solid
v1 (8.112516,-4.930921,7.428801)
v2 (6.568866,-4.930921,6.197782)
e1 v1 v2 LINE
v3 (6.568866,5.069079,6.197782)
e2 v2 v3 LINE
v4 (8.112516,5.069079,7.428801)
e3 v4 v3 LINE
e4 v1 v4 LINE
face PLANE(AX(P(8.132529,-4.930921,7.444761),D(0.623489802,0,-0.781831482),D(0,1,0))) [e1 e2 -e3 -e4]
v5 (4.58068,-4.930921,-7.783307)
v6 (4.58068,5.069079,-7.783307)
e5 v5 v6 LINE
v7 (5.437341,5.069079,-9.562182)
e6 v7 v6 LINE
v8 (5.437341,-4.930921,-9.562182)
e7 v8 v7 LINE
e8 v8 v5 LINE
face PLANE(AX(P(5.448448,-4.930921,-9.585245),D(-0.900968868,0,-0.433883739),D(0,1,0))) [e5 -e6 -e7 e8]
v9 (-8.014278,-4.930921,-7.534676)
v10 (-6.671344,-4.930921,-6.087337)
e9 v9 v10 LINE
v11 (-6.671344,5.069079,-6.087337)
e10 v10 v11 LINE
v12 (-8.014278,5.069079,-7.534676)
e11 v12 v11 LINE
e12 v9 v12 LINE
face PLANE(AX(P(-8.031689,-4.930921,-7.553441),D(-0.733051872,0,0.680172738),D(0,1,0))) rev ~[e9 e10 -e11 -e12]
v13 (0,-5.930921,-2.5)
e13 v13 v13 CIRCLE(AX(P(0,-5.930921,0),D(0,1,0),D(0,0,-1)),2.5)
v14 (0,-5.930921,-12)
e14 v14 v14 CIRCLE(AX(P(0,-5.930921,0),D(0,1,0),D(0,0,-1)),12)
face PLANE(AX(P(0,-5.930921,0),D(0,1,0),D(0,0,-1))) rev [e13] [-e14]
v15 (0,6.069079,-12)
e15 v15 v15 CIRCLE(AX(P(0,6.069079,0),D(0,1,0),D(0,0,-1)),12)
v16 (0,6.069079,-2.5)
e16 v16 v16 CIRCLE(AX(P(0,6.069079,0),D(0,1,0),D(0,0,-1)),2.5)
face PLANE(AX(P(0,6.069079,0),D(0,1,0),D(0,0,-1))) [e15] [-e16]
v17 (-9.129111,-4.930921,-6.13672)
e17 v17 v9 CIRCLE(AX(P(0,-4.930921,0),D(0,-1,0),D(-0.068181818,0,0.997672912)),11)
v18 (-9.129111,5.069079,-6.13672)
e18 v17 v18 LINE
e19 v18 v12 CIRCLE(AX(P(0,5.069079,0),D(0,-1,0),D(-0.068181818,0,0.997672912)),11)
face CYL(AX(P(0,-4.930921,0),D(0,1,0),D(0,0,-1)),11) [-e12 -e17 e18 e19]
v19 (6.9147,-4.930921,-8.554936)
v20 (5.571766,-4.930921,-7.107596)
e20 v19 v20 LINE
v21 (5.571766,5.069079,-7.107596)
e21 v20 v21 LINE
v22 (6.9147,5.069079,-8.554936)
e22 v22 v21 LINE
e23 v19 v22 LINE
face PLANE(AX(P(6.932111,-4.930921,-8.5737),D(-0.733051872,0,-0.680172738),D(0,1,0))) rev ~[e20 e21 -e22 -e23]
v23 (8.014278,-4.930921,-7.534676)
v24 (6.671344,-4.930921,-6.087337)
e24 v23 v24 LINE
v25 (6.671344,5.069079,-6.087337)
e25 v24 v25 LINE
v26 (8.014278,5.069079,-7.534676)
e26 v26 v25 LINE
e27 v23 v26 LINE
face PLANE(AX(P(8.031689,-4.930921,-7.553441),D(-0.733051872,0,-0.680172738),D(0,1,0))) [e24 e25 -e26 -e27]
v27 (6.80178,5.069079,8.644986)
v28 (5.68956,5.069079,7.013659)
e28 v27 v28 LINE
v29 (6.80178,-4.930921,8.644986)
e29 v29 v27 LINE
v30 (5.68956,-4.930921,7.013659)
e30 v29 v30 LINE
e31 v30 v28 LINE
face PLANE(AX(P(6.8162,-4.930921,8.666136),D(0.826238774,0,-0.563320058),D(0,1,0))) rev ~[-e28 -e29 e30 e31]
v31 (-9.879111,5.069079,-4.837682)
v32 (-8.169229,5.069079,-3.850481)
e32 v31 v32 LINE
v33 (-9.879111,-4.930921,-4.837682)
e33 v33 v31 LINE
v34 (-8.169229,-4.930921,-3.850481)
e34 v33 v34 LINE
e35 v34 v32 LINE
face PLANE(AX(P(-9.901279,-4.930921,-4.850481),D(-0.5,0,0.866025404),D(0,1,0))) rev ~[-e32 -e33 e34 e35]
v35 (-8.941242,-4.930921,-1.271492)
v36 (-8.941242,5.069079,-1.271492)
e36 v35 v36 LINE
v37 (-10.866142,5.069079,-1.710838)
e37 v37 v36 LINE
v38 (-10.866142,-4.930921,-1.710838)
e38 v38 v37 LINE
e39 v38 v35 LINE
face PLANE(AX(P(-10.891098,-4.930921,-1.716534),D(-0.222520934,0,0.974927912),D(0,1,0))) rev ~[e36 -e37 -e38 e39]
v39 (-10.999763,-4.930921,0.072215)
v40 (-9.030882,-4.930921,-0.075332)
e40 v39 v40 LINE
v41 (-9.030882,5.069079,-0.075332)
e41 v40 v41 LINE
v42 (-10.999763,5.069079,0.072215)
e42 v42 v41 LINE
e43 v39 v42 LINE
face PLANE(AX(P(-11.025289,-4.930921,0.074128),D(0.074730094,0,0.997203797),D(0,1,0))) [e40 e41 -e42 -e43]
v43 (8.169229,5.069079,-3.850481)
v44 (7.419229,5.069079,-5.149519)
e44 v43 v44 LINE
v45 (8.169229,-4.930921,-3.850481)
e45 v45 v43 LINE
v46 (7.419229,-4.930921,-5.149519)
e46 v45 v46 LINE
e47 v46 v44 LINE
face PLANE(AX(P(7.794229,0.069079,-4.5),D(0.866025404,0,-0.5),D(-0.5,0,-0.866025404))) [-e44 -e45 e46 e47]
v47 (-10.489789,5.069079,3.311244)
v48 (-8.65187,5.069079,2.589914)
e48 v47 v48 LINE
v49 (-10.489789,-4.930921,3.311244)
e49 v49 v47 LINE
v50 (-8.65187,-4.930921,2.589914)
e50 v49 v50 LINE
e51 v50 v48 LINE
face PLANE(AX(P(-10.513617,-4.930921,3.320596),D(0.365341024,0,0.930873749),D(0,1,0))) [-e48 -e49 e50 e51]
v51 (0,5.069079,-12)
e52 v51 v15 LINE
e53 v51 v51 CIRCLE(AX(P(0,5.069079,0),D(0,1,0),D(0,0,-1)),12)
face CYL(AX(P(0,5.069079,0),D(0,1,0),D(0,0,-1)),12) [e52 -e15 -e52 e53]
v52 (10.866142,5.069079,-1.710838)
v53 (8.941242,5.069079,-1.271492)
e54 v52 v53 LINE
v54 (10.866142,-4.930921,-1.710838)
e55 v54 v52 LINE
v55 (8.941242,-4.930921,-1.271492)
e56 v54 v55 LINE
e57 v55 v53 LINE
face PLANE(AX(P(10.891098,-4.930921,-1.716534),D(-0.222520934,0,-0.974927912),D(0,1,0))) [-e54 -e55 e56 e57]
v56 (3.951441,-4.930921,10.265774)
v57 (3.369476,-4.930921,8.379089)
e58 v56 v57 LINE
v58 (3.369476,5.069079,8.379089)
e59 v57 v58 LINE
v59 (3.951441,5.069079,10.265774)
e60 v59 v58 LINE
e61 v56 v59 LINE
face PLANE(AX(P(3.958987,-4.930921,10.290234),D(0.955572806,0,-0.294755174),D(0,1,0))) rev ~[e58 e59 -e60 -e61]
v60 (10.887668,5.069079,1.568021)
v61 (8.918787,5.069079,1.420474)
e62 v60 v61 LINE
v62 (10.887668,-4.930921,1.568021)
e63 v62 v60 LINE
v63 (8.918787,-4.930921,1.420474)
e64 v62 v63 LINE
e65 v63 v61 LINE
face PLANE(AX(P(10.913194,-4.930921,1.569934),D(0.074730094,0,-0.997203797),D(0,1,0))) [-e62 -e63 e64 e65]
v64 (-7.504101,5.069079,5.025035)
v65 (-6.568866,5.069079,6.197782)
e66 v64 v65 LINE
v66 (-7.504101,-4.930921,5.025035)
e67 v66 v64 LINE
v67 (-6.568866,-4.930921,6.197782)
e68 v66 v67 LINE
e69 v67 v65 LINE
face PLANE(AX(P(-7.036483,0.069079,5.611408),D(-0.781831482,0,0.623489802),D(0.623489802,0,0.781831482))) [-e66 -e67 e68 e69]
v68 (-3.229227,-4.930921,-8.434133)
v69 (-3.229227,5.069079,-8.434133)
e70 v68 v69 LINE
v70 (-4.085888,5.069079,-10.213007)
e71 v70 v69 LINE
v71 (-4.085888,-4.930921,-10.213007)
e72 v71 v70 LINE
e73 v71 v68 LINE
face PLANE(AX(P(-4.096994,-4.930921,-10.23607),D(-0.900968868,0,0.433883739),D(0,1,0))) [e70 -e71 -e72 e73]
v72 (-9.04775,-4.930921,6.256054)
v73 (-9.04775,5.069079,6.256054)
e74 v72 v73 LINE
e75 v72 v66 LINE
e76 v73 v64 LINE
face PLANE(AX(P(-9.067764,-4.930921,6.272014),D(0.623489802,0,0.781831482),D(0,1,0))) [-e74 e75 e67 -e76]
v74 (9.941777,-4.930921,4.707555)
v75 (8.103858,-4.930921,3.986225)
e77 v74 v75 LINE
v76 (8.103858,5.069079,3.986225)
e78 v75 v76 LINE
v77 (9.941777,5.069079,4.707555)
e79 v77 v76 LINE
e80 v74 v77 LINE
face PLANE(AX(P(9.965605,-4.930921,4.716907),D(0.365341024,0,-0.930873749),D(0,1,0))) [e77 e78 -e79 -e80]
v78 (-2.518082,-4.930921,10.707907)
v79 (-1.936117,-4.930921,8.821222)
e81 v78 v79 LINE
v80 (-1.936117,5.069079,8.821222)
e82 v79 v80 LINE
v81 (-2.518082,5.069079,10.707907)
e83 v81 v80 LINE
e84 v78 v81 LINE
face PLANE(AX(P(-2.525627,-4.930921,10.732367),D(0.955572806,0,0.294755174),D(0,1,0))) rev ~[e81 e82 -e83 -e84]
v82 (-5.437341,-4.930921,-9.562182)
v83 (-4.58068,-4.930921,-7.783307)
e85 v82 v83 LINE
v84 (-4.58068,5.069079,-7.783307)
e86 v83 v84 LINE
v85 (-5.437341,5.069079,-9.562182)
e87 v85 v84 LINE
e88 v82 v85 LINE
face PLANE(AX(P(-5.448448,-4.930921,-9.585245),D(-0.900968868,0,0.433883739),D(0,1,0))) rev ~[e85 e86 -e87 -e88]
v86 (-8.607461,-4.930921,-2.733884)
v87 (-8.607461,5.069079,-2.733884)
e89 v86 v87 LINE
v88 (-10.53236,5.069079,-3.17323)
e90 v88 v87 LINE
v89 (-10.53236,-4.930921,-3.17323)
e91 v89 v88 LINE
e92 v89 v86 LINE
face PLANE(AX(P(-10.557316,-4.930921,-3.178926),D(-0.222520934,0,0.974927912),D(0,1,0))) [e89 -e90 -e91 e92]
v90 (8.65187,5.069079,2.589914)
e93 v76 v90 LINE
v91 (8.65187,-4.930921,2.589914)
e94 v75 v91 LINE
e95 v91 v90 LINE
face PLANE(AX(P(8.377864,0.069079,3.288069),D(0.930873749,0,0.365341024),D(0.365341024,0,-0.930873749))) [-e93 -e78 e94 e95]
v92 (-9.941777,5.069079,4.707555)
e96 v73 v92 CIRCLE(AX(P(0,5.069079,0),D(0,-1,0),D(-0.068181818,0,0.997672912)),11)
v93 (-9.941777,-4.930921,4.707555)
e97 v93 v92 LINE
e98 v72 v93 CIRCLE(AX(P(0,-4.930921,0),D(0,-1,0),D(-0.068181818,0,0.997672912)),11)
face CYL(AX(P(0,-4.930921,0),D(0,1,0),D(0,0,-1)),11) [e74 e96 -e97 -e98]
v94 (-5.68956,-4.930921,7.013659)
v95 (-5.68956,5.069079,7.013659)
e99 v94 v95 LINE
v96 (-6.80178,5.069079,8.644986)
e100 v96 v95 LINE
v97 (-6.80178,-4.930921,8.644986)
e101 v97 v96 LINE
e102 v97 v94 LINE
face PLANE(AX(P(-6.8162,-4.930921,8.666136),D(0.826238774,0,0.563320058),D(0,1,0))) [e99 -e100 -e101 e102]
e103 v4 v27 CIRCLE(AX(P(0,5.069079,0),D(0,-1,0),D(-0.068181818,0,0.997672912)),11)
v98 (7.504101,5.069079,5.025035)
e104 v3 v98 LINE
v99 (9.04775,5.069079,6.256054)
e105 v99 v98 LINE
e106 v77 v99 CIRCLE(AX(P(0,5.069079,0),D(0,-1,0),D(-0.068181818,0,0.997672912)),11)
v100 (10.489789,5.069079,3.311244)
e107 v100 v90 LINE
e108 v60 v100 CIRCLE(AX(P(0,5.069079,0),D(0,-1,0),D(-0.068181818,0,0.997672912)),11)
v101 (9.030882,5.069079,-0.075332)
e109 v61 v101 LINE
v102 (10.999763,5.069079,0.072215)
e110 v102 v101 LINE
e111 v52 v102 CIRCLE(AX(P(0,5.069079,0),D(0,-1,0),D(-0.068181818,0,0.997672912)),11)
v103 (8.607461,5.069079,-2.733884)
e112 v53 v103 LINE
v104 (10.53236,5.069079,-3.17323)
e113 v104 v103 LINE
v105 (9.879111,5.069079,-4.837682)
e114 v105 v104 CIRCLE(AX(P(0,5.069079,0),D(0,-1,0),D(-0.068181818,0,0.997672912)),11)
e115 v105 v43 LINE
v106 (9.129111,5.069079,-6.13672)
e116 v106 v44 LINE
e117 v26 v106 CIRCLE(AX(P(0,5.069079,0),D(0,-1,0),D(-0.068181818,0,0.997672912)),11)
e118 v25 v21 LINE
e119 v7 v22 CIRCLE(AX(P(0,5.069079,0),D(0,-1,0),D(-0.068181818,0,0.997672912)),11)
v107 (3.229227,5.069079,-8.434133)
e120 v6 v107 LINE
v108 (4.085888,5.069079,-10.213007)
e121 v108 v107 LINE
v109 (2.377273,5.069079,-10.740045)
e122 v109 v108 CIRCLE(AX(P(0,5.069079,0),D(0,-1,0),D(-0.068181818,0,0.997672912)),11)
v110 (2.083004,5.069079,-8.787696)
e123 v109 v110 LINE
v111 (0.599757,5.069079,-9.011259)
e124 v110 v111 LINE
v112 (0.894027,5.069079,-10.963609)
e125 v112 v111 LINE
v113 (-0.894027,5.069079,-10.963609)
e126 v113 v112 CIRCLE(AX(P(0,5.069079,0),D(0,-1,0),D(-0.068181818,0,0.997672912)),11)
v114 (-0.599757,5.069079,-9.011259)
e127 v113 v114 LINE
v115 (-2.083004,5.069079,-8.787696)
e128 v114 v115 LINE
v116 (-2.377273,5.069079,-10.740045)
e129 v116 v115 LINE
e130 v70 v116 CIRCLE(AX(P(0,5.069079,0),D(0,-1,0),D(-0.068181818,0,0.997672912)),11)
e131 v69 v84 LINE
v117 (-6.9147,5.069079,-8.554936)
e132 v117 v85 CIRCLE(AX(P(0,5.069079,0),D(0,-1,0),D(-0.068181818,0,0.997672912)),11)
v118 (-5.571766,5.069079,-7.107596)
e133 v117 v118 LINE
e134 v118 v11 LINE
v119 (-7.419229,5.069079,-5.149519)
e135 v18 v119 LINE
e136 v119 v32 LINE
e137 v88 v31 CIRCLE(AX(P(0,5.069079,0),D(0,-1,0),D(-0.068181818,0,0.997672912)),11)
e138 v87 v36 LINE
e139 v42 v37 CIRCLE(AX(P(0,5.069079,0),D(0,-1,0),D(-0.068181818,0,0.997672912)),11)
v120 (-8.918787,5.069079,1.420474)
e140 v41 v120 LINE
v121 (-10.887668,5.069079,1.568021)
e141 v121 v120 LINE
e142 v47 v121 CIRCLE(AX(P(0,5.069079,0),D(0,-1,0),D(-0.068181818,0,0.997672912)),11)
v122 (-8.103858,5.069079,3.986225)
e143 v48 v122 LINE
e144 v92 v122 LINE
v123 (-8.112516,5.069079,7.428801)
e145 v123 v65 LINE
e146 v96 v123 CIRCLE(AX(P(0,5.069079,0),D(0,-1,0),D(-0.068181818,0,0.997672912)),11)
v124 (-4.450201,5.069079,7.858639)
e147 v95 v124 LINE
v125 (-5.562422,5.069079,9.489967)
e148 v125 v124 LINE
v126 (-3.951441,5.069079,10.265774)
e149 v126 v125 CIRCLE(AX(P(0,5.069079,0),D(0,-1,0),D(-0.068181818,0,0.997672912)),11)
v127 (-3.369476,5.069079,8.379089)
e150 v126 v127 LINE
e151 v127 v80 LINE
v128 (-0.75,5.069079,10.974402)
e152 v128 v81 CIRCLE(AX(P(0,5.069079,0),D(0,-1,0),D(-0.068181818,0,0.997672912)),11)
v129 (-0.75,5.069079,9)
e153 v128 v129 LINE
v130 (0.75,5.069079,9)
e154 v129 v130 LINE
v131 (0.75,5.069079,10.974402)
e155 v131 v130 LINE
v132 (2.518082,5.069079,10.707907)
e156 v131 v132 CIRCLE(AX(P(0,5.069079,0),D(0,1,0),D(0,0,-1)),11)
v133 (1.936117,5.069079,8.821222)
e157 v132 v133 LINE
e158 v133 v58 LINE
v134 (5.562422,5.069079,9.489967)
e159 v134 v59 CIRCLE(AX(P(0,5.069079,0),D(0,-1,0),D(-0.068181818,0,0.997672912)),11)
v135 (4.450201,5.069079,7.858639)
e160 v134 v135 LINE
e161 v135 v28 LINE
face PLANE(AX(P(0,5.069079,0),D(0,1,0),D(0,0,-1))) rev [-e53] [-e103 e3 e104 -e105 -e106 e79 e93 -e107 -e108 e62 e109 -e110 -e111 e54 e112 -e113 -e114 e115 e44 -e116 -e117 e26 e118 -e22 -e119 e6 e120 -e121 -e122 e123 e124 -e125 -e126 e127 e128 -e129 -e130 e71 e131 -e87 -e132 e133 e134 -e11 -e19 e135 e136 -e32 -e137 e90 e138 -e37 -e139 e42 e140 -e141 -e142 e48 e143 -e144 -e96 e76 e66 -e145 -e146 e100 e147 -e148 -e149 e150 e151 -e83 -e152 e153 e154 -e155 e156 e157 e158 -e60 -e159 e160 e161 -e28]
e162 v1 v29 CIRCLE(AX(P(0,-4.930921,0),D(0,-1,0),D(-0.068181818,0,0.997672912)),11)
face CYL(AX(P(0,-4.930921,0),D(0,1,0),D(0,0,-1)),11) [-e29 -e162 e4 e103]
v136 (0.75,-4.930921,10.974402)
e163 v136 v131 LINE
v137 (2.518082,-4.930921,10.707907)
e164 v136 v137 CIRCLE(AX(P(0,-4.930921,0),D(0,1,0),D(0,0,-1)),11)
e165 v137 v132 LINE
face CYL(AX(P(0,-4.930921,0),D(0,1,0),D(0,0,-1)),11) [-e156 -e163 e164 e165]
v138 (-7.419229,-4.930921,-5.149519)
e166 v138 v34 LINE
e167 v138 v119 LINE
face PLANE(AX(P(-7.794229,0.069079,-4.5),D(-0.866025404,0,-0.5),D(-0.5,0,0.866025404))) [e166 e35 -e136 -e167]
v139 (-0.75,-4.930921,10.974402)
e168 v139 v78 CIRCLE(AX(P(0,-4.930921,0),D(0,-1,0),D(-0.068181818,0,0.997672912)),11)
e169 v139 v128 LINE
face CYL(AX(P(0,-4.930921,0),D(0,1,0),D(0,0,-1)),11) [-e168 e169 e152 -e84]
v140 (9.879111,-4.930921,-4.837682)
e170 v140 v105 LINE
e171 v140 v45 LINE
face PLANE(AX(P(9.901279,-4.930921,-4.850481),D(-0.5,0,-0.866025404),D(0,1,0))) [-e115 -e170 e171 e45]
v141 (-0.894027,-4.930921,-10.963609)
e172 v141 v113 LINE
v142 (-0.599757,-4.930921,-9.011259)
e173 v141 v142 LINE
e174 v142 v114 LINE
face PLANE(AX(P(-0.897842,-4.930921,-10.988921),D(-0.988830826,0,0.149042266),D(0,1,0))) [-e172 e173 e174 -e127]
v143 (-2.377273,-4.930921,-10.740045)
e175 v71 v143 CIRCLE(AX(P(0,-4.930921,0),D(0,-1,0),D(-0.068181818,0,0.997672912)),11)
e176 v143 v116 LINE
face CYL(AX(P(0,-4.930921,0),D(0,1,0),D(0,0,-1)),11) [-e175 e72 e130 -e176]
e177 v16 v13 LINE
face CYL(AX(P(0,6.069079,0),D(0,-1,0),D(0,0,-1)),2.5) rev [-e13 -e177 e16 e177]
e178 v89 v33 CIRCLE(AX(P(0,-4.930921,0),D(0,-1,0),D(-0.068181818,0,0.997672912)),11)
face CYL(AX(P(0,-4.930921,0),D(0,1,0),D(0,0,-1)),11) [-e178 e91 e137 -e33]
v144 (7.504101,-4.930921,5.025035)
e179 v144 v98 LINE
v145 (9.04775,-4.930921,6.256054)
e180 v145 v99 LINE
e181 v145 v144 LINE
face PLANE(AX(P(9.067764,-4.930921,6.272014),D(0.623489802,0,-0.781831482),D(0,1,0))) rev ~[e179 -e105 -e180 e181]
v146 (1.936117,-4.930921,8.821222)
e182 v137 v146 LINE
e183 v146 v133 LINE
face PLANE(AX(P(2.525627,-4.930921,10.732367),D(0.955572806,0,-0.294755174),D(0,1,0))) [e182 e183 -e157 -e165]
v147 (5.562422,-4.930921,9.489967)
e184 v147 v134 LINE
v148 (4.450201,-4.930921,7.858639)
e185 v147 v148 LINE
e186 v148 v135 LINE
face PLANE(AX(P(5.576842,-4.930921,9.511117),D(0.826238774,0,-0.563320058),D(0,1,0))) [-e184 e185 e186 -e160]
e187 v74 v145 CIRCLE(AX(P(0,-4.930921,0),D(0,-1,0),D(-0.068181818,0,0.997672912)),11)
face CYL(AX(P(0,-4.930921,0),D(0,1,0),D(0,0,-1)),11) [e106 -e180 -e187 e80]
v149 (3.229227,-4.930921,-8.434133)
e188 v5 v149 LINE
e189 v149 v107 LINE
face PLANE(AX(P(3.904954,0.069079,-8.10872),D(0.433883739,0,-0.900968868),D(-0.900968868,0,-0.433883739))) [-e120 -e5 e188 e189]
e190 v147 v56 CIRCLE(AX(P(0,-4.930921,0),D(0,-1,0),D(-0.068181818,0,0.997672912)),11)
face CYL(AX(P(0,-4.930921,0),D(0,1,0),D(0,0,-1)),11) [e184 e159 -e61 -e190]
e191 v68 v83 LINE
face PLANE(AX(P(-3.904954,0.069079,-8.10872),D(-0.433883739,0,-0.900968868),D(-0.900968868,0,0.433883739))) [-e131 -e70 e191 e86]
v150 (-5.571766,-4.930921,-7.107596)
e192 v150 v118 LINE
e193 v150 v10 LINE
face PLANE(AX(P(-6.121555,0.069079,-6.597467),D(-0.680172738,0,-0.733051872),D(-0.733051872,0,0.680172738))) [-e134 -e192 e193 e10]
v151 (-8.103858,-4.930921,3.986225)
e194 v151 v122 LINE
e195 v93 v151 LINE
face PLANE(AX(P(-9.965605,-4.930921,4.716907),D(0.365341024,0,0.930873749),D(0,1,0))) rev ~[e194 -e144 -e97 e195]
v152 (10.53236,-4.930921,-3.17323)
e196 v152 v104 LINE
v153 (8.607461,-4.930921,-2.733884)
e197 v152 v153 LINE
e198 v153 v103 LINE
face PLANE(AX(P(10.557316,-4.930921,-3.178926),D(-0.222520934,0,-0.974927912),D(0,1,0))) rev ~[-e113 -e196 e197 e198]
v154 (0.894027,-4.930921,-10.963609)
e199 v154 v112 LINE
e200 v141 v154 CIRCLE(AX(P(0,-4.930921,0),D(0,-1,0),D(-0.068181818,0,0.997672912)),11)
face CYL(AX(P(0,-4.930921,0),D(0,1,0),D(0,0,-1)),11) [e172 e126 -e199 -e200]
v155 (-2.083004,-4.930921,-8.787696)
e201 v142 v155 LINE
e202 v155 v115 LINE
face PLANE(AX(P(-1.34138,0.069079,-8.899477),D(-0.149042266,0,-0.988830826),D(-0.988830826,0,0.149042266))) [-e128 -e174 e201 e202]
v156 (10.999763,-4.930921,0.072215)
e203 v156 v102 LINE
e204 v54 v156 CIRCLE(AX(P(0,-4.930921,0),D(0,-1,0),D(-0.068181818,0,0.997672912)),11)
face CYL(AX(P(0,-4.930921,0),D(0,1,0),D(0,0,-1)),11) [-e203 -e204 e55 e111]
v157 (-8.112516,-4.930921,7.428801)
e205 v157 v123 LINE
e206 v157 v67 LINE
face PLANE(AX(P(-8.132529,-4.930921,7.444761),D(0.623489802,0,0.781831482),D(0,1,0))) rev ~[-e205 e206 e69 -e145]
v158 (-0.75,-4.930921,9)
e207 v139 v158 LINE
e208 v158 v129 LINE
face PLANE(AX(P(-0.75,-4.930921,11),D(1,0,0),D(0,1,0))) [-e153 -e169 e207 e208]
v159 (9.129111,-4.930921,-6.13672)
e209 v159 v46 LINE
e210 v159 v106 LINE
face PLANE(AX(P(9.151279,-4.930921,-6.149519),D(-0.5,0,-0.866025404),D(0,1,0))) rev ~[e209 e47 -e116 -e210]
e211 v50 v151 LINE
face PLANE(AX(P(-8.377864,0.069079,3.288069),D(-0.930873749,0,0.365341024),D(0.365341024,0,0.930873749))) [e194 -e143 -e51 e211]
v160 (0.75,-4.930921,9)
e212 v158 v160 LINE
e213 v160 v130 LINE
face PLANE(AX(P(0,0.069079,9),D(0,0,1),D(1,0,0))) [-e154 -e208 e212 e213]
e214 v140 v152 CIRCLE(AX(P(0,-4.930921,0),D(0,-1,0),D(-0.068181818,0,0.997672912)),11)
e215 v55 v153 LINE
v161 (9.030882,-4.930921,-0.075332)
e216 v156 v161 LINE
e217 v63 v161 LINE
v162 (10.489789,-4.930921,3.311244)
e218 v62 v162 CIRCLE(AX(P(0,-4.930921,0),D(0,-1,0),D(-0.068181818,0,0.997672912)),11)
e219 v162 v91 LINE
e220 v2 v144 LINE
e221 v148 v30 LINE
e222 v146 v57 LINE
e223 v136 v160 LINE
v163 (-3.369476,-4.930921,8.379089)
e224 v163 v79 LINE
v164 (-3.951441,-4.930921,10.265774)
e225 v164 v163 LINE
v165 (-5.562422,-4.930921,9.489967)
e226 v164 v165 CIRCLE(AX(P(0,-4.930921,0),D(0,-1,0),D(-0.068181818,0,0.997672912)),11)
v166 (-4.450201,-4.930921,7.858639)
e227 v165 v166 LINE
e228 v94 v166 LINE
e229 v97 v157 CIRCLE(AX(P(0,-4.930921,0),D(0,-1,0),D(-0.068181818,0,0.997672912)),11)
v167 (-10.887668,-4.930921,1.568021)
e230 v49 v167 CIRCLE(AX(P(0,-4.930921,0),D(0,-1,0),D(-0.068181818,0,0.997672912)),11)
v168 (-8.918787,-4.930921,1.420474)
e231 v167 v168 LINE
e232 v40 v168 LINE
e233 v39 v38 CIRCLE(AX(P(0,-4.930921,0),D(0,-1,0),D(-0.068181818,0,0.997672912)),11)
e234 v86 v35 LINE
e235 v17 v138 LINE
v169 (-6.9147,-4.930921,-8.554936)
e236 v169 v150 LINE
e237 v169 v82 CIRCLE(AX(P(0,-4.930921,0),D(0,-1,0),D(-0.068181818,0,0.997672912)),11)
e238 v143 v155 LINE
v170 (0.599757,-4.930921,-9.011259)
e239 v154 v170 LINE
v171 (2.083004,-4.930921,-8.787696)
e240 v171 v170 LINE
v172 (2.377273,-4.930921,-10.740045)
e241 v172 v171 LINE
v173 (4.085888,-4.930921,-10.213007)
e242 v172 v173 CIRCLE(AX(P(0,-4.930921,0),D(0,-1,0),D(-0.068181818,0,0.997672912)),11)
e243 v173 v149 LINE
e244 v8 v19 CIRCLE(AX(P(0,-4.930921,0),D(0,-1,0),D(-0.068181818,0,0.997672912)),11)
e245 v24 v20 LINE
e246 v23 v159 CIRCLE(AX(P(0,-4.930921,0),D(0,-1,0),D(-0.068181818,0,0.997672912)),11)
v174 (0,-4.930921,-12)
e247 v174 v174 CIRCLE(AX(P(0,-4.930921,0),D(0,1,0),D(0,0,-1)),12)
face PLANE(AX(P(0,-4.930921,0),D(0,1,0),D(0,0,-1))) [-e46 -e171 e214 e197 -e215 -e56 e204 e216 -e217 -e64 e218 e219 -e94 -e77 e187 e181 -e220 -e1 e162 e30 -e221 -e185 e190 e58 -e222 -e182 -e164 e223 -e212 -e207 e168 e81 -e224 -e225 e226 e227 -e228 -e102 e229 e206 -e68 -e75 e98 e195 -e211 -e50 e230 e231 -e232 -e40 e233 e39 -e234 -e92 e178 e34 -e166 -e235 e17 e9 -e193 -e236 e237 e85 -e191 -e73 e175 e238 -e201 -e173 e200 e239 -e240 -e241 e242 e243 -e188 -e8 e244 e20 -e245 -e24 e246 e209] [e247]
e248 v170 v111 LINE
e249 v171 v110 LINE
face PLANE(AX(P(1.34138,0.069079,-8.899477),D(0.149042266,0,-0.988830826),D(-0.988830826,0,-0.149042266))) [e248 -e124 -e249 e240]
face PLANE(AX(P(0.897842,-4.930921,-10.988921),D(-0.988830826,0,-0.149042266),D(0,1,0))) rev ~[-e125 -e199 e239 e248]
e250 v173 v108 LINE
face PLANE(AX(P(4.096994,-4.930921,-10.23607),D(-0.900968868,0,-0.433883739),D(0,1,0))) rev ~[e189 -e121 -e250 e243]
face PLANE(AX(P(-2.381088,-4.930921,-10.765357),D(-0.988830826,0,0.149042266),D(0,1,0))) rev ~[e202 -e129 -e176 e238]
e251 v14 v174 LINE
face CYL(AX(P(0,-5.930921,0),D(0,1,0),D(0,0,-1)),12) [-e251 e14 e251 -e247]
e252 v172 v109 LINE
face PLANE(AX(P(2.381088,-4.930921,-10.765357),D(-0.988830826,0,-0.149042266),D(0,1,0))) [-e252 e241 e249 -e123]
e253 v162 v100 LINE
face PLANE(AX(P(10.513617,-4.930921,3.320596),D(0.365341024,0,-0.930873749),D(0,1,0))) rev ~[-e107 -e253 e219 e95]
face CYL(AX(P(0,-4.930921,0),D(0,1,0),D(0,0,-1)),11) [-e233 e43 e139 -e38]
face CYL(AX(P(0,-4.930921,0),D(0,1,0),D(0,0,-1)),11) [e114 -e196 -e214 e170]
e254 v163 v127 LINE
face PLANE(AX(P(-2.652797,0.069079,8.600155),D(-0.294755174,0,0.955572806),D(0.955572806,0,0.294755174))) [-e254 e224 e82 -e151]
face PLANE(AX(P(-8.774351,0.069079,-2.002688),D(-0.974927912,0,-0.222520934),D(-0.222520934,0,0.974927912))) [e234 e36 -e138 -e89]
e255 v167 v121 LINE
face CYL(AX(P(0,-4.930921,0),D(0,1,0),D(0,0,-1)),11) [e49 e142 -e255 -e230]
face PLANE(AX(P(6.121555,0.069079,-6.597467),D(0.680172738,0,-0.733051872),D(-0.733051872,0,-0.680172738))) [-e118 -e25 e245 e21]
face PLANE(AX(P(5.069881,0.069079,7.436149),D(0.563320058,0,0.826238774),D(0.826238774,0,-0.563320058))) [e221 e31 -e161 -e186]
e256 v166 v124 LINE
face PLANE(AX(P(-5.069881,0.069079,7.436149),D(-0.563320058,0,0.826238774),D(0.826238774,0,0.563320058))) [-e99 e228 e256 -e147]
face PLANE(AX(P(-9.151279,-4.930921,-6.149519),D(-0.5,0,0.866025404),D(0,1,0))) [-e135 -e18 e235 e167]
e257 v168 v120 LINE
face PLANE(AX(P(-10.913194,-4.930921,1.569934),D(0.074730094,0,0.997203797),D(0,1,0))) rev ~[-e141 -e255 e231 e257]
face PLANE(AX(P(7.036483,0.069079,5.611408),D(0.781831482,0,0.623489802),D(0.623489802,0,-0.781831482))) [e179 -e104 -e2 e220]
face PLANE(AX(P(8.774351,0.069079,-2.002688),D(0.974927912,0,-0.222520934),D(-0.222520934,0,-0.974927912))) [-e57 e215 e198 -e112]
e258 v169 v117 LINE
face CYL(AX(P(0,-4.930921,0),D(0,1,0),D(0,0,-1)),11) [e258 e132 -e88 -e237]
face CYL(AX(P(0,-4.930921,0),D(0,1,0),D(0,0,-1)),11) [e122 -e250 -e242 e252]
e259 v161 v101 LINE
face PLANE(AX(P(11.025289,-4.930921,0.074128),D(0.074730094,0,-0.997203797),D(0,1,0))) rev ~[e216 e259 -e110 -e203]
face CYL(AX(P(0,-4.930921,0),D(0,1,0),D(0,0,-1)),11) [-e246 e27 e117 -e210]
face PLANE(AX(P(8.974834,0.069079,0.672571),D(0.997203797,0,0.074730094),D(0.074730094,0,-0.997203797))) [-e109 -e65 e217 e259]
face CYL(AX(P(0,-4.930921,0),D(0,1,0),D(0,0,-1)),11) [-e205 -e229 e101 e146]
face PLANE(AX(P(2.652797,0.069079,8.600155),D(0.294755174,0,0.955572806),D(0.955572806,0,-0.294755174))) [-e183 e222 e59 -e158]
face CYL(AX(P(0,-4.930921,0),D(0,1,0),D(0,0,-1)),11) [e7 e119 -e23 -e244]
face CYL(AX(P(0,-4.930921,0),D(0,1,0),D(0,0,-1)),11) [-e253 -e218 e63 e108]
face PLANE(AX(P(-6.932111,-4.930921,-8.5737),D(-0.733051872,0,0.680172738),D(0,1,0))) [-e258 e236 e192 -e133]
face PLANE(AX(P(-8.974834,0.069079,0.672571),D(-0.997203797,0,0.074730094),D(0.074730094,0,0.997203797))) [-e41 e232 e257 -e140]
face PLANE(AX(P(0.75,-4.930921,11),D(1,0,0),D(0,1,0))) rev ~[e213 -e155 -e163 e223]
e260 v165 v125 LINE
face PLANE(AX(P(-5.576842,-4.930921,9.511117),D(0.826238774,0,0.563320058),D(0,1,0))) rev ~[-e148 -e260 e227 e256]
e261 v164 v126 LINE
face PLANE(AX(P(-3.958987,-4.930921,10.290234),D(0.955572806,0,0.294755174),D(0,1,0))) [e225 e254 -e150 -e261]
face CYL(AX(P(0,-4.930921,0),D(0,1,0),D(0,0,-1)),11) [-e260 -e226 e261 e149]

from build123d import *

# Parameters (mm, degrees)
SKETCH2_W          = 1.5
SKETCH2_H          = 10
CUT_EXTRUDE1_DEPTH = 2
CIRPATTERN1_COUNT  = 21


with BuildPart() as part:
    # Sketch1 → Revolve1 (revolve)
    with BuildSketch(Plane.XY, mode=Mode.PRIVATE) as revolve1_sk:
        Polygon((2.5, -5.930921053), (4.177631579, -5.930921053), (12, -5.930921053), (12, -4.930921053), (11, -4.930921053), (11, 5.069078947), (12, 5.069078947), (12, 6.069078947), (4.177631579, 6.069078947), (2.5, 6.069078947), align=None)
    revolve(revolve1_sk.sketch.rotate(Axis((0, 0, 0), (0, 1, 0)), 90), axis=Axis((0, 0, 0), (0, 1, 0)))  # turned: the seam where the file's is

    # Sketch2 → Cut-Extrude1 (cut)
    with BuildSketch(Plane.XY.offset(11)):
        with Locations((0, 0.069078947)):
            Rectangle(SKETCH2_W, SKETCH2_H)
    cut_extrude1 = extrude(amount=-CUT_EXTRUDE1_DEPTH, mode=Mode.SUBTRACT)

    # CirPattern1: Cut-Extrude1 ×21 about axis
    cirpattern1_axis = Axis((0, 0, 0), (0, 1, 0))
    for i in range(1, CIRPATTERN1_COUNT):
        add(cut_extrude1.rotate(cirpattern1_axis, i * 360 / CIRPATTERN1_COUNT), mode=Mode.SUBTRACT)


solid = part.part
